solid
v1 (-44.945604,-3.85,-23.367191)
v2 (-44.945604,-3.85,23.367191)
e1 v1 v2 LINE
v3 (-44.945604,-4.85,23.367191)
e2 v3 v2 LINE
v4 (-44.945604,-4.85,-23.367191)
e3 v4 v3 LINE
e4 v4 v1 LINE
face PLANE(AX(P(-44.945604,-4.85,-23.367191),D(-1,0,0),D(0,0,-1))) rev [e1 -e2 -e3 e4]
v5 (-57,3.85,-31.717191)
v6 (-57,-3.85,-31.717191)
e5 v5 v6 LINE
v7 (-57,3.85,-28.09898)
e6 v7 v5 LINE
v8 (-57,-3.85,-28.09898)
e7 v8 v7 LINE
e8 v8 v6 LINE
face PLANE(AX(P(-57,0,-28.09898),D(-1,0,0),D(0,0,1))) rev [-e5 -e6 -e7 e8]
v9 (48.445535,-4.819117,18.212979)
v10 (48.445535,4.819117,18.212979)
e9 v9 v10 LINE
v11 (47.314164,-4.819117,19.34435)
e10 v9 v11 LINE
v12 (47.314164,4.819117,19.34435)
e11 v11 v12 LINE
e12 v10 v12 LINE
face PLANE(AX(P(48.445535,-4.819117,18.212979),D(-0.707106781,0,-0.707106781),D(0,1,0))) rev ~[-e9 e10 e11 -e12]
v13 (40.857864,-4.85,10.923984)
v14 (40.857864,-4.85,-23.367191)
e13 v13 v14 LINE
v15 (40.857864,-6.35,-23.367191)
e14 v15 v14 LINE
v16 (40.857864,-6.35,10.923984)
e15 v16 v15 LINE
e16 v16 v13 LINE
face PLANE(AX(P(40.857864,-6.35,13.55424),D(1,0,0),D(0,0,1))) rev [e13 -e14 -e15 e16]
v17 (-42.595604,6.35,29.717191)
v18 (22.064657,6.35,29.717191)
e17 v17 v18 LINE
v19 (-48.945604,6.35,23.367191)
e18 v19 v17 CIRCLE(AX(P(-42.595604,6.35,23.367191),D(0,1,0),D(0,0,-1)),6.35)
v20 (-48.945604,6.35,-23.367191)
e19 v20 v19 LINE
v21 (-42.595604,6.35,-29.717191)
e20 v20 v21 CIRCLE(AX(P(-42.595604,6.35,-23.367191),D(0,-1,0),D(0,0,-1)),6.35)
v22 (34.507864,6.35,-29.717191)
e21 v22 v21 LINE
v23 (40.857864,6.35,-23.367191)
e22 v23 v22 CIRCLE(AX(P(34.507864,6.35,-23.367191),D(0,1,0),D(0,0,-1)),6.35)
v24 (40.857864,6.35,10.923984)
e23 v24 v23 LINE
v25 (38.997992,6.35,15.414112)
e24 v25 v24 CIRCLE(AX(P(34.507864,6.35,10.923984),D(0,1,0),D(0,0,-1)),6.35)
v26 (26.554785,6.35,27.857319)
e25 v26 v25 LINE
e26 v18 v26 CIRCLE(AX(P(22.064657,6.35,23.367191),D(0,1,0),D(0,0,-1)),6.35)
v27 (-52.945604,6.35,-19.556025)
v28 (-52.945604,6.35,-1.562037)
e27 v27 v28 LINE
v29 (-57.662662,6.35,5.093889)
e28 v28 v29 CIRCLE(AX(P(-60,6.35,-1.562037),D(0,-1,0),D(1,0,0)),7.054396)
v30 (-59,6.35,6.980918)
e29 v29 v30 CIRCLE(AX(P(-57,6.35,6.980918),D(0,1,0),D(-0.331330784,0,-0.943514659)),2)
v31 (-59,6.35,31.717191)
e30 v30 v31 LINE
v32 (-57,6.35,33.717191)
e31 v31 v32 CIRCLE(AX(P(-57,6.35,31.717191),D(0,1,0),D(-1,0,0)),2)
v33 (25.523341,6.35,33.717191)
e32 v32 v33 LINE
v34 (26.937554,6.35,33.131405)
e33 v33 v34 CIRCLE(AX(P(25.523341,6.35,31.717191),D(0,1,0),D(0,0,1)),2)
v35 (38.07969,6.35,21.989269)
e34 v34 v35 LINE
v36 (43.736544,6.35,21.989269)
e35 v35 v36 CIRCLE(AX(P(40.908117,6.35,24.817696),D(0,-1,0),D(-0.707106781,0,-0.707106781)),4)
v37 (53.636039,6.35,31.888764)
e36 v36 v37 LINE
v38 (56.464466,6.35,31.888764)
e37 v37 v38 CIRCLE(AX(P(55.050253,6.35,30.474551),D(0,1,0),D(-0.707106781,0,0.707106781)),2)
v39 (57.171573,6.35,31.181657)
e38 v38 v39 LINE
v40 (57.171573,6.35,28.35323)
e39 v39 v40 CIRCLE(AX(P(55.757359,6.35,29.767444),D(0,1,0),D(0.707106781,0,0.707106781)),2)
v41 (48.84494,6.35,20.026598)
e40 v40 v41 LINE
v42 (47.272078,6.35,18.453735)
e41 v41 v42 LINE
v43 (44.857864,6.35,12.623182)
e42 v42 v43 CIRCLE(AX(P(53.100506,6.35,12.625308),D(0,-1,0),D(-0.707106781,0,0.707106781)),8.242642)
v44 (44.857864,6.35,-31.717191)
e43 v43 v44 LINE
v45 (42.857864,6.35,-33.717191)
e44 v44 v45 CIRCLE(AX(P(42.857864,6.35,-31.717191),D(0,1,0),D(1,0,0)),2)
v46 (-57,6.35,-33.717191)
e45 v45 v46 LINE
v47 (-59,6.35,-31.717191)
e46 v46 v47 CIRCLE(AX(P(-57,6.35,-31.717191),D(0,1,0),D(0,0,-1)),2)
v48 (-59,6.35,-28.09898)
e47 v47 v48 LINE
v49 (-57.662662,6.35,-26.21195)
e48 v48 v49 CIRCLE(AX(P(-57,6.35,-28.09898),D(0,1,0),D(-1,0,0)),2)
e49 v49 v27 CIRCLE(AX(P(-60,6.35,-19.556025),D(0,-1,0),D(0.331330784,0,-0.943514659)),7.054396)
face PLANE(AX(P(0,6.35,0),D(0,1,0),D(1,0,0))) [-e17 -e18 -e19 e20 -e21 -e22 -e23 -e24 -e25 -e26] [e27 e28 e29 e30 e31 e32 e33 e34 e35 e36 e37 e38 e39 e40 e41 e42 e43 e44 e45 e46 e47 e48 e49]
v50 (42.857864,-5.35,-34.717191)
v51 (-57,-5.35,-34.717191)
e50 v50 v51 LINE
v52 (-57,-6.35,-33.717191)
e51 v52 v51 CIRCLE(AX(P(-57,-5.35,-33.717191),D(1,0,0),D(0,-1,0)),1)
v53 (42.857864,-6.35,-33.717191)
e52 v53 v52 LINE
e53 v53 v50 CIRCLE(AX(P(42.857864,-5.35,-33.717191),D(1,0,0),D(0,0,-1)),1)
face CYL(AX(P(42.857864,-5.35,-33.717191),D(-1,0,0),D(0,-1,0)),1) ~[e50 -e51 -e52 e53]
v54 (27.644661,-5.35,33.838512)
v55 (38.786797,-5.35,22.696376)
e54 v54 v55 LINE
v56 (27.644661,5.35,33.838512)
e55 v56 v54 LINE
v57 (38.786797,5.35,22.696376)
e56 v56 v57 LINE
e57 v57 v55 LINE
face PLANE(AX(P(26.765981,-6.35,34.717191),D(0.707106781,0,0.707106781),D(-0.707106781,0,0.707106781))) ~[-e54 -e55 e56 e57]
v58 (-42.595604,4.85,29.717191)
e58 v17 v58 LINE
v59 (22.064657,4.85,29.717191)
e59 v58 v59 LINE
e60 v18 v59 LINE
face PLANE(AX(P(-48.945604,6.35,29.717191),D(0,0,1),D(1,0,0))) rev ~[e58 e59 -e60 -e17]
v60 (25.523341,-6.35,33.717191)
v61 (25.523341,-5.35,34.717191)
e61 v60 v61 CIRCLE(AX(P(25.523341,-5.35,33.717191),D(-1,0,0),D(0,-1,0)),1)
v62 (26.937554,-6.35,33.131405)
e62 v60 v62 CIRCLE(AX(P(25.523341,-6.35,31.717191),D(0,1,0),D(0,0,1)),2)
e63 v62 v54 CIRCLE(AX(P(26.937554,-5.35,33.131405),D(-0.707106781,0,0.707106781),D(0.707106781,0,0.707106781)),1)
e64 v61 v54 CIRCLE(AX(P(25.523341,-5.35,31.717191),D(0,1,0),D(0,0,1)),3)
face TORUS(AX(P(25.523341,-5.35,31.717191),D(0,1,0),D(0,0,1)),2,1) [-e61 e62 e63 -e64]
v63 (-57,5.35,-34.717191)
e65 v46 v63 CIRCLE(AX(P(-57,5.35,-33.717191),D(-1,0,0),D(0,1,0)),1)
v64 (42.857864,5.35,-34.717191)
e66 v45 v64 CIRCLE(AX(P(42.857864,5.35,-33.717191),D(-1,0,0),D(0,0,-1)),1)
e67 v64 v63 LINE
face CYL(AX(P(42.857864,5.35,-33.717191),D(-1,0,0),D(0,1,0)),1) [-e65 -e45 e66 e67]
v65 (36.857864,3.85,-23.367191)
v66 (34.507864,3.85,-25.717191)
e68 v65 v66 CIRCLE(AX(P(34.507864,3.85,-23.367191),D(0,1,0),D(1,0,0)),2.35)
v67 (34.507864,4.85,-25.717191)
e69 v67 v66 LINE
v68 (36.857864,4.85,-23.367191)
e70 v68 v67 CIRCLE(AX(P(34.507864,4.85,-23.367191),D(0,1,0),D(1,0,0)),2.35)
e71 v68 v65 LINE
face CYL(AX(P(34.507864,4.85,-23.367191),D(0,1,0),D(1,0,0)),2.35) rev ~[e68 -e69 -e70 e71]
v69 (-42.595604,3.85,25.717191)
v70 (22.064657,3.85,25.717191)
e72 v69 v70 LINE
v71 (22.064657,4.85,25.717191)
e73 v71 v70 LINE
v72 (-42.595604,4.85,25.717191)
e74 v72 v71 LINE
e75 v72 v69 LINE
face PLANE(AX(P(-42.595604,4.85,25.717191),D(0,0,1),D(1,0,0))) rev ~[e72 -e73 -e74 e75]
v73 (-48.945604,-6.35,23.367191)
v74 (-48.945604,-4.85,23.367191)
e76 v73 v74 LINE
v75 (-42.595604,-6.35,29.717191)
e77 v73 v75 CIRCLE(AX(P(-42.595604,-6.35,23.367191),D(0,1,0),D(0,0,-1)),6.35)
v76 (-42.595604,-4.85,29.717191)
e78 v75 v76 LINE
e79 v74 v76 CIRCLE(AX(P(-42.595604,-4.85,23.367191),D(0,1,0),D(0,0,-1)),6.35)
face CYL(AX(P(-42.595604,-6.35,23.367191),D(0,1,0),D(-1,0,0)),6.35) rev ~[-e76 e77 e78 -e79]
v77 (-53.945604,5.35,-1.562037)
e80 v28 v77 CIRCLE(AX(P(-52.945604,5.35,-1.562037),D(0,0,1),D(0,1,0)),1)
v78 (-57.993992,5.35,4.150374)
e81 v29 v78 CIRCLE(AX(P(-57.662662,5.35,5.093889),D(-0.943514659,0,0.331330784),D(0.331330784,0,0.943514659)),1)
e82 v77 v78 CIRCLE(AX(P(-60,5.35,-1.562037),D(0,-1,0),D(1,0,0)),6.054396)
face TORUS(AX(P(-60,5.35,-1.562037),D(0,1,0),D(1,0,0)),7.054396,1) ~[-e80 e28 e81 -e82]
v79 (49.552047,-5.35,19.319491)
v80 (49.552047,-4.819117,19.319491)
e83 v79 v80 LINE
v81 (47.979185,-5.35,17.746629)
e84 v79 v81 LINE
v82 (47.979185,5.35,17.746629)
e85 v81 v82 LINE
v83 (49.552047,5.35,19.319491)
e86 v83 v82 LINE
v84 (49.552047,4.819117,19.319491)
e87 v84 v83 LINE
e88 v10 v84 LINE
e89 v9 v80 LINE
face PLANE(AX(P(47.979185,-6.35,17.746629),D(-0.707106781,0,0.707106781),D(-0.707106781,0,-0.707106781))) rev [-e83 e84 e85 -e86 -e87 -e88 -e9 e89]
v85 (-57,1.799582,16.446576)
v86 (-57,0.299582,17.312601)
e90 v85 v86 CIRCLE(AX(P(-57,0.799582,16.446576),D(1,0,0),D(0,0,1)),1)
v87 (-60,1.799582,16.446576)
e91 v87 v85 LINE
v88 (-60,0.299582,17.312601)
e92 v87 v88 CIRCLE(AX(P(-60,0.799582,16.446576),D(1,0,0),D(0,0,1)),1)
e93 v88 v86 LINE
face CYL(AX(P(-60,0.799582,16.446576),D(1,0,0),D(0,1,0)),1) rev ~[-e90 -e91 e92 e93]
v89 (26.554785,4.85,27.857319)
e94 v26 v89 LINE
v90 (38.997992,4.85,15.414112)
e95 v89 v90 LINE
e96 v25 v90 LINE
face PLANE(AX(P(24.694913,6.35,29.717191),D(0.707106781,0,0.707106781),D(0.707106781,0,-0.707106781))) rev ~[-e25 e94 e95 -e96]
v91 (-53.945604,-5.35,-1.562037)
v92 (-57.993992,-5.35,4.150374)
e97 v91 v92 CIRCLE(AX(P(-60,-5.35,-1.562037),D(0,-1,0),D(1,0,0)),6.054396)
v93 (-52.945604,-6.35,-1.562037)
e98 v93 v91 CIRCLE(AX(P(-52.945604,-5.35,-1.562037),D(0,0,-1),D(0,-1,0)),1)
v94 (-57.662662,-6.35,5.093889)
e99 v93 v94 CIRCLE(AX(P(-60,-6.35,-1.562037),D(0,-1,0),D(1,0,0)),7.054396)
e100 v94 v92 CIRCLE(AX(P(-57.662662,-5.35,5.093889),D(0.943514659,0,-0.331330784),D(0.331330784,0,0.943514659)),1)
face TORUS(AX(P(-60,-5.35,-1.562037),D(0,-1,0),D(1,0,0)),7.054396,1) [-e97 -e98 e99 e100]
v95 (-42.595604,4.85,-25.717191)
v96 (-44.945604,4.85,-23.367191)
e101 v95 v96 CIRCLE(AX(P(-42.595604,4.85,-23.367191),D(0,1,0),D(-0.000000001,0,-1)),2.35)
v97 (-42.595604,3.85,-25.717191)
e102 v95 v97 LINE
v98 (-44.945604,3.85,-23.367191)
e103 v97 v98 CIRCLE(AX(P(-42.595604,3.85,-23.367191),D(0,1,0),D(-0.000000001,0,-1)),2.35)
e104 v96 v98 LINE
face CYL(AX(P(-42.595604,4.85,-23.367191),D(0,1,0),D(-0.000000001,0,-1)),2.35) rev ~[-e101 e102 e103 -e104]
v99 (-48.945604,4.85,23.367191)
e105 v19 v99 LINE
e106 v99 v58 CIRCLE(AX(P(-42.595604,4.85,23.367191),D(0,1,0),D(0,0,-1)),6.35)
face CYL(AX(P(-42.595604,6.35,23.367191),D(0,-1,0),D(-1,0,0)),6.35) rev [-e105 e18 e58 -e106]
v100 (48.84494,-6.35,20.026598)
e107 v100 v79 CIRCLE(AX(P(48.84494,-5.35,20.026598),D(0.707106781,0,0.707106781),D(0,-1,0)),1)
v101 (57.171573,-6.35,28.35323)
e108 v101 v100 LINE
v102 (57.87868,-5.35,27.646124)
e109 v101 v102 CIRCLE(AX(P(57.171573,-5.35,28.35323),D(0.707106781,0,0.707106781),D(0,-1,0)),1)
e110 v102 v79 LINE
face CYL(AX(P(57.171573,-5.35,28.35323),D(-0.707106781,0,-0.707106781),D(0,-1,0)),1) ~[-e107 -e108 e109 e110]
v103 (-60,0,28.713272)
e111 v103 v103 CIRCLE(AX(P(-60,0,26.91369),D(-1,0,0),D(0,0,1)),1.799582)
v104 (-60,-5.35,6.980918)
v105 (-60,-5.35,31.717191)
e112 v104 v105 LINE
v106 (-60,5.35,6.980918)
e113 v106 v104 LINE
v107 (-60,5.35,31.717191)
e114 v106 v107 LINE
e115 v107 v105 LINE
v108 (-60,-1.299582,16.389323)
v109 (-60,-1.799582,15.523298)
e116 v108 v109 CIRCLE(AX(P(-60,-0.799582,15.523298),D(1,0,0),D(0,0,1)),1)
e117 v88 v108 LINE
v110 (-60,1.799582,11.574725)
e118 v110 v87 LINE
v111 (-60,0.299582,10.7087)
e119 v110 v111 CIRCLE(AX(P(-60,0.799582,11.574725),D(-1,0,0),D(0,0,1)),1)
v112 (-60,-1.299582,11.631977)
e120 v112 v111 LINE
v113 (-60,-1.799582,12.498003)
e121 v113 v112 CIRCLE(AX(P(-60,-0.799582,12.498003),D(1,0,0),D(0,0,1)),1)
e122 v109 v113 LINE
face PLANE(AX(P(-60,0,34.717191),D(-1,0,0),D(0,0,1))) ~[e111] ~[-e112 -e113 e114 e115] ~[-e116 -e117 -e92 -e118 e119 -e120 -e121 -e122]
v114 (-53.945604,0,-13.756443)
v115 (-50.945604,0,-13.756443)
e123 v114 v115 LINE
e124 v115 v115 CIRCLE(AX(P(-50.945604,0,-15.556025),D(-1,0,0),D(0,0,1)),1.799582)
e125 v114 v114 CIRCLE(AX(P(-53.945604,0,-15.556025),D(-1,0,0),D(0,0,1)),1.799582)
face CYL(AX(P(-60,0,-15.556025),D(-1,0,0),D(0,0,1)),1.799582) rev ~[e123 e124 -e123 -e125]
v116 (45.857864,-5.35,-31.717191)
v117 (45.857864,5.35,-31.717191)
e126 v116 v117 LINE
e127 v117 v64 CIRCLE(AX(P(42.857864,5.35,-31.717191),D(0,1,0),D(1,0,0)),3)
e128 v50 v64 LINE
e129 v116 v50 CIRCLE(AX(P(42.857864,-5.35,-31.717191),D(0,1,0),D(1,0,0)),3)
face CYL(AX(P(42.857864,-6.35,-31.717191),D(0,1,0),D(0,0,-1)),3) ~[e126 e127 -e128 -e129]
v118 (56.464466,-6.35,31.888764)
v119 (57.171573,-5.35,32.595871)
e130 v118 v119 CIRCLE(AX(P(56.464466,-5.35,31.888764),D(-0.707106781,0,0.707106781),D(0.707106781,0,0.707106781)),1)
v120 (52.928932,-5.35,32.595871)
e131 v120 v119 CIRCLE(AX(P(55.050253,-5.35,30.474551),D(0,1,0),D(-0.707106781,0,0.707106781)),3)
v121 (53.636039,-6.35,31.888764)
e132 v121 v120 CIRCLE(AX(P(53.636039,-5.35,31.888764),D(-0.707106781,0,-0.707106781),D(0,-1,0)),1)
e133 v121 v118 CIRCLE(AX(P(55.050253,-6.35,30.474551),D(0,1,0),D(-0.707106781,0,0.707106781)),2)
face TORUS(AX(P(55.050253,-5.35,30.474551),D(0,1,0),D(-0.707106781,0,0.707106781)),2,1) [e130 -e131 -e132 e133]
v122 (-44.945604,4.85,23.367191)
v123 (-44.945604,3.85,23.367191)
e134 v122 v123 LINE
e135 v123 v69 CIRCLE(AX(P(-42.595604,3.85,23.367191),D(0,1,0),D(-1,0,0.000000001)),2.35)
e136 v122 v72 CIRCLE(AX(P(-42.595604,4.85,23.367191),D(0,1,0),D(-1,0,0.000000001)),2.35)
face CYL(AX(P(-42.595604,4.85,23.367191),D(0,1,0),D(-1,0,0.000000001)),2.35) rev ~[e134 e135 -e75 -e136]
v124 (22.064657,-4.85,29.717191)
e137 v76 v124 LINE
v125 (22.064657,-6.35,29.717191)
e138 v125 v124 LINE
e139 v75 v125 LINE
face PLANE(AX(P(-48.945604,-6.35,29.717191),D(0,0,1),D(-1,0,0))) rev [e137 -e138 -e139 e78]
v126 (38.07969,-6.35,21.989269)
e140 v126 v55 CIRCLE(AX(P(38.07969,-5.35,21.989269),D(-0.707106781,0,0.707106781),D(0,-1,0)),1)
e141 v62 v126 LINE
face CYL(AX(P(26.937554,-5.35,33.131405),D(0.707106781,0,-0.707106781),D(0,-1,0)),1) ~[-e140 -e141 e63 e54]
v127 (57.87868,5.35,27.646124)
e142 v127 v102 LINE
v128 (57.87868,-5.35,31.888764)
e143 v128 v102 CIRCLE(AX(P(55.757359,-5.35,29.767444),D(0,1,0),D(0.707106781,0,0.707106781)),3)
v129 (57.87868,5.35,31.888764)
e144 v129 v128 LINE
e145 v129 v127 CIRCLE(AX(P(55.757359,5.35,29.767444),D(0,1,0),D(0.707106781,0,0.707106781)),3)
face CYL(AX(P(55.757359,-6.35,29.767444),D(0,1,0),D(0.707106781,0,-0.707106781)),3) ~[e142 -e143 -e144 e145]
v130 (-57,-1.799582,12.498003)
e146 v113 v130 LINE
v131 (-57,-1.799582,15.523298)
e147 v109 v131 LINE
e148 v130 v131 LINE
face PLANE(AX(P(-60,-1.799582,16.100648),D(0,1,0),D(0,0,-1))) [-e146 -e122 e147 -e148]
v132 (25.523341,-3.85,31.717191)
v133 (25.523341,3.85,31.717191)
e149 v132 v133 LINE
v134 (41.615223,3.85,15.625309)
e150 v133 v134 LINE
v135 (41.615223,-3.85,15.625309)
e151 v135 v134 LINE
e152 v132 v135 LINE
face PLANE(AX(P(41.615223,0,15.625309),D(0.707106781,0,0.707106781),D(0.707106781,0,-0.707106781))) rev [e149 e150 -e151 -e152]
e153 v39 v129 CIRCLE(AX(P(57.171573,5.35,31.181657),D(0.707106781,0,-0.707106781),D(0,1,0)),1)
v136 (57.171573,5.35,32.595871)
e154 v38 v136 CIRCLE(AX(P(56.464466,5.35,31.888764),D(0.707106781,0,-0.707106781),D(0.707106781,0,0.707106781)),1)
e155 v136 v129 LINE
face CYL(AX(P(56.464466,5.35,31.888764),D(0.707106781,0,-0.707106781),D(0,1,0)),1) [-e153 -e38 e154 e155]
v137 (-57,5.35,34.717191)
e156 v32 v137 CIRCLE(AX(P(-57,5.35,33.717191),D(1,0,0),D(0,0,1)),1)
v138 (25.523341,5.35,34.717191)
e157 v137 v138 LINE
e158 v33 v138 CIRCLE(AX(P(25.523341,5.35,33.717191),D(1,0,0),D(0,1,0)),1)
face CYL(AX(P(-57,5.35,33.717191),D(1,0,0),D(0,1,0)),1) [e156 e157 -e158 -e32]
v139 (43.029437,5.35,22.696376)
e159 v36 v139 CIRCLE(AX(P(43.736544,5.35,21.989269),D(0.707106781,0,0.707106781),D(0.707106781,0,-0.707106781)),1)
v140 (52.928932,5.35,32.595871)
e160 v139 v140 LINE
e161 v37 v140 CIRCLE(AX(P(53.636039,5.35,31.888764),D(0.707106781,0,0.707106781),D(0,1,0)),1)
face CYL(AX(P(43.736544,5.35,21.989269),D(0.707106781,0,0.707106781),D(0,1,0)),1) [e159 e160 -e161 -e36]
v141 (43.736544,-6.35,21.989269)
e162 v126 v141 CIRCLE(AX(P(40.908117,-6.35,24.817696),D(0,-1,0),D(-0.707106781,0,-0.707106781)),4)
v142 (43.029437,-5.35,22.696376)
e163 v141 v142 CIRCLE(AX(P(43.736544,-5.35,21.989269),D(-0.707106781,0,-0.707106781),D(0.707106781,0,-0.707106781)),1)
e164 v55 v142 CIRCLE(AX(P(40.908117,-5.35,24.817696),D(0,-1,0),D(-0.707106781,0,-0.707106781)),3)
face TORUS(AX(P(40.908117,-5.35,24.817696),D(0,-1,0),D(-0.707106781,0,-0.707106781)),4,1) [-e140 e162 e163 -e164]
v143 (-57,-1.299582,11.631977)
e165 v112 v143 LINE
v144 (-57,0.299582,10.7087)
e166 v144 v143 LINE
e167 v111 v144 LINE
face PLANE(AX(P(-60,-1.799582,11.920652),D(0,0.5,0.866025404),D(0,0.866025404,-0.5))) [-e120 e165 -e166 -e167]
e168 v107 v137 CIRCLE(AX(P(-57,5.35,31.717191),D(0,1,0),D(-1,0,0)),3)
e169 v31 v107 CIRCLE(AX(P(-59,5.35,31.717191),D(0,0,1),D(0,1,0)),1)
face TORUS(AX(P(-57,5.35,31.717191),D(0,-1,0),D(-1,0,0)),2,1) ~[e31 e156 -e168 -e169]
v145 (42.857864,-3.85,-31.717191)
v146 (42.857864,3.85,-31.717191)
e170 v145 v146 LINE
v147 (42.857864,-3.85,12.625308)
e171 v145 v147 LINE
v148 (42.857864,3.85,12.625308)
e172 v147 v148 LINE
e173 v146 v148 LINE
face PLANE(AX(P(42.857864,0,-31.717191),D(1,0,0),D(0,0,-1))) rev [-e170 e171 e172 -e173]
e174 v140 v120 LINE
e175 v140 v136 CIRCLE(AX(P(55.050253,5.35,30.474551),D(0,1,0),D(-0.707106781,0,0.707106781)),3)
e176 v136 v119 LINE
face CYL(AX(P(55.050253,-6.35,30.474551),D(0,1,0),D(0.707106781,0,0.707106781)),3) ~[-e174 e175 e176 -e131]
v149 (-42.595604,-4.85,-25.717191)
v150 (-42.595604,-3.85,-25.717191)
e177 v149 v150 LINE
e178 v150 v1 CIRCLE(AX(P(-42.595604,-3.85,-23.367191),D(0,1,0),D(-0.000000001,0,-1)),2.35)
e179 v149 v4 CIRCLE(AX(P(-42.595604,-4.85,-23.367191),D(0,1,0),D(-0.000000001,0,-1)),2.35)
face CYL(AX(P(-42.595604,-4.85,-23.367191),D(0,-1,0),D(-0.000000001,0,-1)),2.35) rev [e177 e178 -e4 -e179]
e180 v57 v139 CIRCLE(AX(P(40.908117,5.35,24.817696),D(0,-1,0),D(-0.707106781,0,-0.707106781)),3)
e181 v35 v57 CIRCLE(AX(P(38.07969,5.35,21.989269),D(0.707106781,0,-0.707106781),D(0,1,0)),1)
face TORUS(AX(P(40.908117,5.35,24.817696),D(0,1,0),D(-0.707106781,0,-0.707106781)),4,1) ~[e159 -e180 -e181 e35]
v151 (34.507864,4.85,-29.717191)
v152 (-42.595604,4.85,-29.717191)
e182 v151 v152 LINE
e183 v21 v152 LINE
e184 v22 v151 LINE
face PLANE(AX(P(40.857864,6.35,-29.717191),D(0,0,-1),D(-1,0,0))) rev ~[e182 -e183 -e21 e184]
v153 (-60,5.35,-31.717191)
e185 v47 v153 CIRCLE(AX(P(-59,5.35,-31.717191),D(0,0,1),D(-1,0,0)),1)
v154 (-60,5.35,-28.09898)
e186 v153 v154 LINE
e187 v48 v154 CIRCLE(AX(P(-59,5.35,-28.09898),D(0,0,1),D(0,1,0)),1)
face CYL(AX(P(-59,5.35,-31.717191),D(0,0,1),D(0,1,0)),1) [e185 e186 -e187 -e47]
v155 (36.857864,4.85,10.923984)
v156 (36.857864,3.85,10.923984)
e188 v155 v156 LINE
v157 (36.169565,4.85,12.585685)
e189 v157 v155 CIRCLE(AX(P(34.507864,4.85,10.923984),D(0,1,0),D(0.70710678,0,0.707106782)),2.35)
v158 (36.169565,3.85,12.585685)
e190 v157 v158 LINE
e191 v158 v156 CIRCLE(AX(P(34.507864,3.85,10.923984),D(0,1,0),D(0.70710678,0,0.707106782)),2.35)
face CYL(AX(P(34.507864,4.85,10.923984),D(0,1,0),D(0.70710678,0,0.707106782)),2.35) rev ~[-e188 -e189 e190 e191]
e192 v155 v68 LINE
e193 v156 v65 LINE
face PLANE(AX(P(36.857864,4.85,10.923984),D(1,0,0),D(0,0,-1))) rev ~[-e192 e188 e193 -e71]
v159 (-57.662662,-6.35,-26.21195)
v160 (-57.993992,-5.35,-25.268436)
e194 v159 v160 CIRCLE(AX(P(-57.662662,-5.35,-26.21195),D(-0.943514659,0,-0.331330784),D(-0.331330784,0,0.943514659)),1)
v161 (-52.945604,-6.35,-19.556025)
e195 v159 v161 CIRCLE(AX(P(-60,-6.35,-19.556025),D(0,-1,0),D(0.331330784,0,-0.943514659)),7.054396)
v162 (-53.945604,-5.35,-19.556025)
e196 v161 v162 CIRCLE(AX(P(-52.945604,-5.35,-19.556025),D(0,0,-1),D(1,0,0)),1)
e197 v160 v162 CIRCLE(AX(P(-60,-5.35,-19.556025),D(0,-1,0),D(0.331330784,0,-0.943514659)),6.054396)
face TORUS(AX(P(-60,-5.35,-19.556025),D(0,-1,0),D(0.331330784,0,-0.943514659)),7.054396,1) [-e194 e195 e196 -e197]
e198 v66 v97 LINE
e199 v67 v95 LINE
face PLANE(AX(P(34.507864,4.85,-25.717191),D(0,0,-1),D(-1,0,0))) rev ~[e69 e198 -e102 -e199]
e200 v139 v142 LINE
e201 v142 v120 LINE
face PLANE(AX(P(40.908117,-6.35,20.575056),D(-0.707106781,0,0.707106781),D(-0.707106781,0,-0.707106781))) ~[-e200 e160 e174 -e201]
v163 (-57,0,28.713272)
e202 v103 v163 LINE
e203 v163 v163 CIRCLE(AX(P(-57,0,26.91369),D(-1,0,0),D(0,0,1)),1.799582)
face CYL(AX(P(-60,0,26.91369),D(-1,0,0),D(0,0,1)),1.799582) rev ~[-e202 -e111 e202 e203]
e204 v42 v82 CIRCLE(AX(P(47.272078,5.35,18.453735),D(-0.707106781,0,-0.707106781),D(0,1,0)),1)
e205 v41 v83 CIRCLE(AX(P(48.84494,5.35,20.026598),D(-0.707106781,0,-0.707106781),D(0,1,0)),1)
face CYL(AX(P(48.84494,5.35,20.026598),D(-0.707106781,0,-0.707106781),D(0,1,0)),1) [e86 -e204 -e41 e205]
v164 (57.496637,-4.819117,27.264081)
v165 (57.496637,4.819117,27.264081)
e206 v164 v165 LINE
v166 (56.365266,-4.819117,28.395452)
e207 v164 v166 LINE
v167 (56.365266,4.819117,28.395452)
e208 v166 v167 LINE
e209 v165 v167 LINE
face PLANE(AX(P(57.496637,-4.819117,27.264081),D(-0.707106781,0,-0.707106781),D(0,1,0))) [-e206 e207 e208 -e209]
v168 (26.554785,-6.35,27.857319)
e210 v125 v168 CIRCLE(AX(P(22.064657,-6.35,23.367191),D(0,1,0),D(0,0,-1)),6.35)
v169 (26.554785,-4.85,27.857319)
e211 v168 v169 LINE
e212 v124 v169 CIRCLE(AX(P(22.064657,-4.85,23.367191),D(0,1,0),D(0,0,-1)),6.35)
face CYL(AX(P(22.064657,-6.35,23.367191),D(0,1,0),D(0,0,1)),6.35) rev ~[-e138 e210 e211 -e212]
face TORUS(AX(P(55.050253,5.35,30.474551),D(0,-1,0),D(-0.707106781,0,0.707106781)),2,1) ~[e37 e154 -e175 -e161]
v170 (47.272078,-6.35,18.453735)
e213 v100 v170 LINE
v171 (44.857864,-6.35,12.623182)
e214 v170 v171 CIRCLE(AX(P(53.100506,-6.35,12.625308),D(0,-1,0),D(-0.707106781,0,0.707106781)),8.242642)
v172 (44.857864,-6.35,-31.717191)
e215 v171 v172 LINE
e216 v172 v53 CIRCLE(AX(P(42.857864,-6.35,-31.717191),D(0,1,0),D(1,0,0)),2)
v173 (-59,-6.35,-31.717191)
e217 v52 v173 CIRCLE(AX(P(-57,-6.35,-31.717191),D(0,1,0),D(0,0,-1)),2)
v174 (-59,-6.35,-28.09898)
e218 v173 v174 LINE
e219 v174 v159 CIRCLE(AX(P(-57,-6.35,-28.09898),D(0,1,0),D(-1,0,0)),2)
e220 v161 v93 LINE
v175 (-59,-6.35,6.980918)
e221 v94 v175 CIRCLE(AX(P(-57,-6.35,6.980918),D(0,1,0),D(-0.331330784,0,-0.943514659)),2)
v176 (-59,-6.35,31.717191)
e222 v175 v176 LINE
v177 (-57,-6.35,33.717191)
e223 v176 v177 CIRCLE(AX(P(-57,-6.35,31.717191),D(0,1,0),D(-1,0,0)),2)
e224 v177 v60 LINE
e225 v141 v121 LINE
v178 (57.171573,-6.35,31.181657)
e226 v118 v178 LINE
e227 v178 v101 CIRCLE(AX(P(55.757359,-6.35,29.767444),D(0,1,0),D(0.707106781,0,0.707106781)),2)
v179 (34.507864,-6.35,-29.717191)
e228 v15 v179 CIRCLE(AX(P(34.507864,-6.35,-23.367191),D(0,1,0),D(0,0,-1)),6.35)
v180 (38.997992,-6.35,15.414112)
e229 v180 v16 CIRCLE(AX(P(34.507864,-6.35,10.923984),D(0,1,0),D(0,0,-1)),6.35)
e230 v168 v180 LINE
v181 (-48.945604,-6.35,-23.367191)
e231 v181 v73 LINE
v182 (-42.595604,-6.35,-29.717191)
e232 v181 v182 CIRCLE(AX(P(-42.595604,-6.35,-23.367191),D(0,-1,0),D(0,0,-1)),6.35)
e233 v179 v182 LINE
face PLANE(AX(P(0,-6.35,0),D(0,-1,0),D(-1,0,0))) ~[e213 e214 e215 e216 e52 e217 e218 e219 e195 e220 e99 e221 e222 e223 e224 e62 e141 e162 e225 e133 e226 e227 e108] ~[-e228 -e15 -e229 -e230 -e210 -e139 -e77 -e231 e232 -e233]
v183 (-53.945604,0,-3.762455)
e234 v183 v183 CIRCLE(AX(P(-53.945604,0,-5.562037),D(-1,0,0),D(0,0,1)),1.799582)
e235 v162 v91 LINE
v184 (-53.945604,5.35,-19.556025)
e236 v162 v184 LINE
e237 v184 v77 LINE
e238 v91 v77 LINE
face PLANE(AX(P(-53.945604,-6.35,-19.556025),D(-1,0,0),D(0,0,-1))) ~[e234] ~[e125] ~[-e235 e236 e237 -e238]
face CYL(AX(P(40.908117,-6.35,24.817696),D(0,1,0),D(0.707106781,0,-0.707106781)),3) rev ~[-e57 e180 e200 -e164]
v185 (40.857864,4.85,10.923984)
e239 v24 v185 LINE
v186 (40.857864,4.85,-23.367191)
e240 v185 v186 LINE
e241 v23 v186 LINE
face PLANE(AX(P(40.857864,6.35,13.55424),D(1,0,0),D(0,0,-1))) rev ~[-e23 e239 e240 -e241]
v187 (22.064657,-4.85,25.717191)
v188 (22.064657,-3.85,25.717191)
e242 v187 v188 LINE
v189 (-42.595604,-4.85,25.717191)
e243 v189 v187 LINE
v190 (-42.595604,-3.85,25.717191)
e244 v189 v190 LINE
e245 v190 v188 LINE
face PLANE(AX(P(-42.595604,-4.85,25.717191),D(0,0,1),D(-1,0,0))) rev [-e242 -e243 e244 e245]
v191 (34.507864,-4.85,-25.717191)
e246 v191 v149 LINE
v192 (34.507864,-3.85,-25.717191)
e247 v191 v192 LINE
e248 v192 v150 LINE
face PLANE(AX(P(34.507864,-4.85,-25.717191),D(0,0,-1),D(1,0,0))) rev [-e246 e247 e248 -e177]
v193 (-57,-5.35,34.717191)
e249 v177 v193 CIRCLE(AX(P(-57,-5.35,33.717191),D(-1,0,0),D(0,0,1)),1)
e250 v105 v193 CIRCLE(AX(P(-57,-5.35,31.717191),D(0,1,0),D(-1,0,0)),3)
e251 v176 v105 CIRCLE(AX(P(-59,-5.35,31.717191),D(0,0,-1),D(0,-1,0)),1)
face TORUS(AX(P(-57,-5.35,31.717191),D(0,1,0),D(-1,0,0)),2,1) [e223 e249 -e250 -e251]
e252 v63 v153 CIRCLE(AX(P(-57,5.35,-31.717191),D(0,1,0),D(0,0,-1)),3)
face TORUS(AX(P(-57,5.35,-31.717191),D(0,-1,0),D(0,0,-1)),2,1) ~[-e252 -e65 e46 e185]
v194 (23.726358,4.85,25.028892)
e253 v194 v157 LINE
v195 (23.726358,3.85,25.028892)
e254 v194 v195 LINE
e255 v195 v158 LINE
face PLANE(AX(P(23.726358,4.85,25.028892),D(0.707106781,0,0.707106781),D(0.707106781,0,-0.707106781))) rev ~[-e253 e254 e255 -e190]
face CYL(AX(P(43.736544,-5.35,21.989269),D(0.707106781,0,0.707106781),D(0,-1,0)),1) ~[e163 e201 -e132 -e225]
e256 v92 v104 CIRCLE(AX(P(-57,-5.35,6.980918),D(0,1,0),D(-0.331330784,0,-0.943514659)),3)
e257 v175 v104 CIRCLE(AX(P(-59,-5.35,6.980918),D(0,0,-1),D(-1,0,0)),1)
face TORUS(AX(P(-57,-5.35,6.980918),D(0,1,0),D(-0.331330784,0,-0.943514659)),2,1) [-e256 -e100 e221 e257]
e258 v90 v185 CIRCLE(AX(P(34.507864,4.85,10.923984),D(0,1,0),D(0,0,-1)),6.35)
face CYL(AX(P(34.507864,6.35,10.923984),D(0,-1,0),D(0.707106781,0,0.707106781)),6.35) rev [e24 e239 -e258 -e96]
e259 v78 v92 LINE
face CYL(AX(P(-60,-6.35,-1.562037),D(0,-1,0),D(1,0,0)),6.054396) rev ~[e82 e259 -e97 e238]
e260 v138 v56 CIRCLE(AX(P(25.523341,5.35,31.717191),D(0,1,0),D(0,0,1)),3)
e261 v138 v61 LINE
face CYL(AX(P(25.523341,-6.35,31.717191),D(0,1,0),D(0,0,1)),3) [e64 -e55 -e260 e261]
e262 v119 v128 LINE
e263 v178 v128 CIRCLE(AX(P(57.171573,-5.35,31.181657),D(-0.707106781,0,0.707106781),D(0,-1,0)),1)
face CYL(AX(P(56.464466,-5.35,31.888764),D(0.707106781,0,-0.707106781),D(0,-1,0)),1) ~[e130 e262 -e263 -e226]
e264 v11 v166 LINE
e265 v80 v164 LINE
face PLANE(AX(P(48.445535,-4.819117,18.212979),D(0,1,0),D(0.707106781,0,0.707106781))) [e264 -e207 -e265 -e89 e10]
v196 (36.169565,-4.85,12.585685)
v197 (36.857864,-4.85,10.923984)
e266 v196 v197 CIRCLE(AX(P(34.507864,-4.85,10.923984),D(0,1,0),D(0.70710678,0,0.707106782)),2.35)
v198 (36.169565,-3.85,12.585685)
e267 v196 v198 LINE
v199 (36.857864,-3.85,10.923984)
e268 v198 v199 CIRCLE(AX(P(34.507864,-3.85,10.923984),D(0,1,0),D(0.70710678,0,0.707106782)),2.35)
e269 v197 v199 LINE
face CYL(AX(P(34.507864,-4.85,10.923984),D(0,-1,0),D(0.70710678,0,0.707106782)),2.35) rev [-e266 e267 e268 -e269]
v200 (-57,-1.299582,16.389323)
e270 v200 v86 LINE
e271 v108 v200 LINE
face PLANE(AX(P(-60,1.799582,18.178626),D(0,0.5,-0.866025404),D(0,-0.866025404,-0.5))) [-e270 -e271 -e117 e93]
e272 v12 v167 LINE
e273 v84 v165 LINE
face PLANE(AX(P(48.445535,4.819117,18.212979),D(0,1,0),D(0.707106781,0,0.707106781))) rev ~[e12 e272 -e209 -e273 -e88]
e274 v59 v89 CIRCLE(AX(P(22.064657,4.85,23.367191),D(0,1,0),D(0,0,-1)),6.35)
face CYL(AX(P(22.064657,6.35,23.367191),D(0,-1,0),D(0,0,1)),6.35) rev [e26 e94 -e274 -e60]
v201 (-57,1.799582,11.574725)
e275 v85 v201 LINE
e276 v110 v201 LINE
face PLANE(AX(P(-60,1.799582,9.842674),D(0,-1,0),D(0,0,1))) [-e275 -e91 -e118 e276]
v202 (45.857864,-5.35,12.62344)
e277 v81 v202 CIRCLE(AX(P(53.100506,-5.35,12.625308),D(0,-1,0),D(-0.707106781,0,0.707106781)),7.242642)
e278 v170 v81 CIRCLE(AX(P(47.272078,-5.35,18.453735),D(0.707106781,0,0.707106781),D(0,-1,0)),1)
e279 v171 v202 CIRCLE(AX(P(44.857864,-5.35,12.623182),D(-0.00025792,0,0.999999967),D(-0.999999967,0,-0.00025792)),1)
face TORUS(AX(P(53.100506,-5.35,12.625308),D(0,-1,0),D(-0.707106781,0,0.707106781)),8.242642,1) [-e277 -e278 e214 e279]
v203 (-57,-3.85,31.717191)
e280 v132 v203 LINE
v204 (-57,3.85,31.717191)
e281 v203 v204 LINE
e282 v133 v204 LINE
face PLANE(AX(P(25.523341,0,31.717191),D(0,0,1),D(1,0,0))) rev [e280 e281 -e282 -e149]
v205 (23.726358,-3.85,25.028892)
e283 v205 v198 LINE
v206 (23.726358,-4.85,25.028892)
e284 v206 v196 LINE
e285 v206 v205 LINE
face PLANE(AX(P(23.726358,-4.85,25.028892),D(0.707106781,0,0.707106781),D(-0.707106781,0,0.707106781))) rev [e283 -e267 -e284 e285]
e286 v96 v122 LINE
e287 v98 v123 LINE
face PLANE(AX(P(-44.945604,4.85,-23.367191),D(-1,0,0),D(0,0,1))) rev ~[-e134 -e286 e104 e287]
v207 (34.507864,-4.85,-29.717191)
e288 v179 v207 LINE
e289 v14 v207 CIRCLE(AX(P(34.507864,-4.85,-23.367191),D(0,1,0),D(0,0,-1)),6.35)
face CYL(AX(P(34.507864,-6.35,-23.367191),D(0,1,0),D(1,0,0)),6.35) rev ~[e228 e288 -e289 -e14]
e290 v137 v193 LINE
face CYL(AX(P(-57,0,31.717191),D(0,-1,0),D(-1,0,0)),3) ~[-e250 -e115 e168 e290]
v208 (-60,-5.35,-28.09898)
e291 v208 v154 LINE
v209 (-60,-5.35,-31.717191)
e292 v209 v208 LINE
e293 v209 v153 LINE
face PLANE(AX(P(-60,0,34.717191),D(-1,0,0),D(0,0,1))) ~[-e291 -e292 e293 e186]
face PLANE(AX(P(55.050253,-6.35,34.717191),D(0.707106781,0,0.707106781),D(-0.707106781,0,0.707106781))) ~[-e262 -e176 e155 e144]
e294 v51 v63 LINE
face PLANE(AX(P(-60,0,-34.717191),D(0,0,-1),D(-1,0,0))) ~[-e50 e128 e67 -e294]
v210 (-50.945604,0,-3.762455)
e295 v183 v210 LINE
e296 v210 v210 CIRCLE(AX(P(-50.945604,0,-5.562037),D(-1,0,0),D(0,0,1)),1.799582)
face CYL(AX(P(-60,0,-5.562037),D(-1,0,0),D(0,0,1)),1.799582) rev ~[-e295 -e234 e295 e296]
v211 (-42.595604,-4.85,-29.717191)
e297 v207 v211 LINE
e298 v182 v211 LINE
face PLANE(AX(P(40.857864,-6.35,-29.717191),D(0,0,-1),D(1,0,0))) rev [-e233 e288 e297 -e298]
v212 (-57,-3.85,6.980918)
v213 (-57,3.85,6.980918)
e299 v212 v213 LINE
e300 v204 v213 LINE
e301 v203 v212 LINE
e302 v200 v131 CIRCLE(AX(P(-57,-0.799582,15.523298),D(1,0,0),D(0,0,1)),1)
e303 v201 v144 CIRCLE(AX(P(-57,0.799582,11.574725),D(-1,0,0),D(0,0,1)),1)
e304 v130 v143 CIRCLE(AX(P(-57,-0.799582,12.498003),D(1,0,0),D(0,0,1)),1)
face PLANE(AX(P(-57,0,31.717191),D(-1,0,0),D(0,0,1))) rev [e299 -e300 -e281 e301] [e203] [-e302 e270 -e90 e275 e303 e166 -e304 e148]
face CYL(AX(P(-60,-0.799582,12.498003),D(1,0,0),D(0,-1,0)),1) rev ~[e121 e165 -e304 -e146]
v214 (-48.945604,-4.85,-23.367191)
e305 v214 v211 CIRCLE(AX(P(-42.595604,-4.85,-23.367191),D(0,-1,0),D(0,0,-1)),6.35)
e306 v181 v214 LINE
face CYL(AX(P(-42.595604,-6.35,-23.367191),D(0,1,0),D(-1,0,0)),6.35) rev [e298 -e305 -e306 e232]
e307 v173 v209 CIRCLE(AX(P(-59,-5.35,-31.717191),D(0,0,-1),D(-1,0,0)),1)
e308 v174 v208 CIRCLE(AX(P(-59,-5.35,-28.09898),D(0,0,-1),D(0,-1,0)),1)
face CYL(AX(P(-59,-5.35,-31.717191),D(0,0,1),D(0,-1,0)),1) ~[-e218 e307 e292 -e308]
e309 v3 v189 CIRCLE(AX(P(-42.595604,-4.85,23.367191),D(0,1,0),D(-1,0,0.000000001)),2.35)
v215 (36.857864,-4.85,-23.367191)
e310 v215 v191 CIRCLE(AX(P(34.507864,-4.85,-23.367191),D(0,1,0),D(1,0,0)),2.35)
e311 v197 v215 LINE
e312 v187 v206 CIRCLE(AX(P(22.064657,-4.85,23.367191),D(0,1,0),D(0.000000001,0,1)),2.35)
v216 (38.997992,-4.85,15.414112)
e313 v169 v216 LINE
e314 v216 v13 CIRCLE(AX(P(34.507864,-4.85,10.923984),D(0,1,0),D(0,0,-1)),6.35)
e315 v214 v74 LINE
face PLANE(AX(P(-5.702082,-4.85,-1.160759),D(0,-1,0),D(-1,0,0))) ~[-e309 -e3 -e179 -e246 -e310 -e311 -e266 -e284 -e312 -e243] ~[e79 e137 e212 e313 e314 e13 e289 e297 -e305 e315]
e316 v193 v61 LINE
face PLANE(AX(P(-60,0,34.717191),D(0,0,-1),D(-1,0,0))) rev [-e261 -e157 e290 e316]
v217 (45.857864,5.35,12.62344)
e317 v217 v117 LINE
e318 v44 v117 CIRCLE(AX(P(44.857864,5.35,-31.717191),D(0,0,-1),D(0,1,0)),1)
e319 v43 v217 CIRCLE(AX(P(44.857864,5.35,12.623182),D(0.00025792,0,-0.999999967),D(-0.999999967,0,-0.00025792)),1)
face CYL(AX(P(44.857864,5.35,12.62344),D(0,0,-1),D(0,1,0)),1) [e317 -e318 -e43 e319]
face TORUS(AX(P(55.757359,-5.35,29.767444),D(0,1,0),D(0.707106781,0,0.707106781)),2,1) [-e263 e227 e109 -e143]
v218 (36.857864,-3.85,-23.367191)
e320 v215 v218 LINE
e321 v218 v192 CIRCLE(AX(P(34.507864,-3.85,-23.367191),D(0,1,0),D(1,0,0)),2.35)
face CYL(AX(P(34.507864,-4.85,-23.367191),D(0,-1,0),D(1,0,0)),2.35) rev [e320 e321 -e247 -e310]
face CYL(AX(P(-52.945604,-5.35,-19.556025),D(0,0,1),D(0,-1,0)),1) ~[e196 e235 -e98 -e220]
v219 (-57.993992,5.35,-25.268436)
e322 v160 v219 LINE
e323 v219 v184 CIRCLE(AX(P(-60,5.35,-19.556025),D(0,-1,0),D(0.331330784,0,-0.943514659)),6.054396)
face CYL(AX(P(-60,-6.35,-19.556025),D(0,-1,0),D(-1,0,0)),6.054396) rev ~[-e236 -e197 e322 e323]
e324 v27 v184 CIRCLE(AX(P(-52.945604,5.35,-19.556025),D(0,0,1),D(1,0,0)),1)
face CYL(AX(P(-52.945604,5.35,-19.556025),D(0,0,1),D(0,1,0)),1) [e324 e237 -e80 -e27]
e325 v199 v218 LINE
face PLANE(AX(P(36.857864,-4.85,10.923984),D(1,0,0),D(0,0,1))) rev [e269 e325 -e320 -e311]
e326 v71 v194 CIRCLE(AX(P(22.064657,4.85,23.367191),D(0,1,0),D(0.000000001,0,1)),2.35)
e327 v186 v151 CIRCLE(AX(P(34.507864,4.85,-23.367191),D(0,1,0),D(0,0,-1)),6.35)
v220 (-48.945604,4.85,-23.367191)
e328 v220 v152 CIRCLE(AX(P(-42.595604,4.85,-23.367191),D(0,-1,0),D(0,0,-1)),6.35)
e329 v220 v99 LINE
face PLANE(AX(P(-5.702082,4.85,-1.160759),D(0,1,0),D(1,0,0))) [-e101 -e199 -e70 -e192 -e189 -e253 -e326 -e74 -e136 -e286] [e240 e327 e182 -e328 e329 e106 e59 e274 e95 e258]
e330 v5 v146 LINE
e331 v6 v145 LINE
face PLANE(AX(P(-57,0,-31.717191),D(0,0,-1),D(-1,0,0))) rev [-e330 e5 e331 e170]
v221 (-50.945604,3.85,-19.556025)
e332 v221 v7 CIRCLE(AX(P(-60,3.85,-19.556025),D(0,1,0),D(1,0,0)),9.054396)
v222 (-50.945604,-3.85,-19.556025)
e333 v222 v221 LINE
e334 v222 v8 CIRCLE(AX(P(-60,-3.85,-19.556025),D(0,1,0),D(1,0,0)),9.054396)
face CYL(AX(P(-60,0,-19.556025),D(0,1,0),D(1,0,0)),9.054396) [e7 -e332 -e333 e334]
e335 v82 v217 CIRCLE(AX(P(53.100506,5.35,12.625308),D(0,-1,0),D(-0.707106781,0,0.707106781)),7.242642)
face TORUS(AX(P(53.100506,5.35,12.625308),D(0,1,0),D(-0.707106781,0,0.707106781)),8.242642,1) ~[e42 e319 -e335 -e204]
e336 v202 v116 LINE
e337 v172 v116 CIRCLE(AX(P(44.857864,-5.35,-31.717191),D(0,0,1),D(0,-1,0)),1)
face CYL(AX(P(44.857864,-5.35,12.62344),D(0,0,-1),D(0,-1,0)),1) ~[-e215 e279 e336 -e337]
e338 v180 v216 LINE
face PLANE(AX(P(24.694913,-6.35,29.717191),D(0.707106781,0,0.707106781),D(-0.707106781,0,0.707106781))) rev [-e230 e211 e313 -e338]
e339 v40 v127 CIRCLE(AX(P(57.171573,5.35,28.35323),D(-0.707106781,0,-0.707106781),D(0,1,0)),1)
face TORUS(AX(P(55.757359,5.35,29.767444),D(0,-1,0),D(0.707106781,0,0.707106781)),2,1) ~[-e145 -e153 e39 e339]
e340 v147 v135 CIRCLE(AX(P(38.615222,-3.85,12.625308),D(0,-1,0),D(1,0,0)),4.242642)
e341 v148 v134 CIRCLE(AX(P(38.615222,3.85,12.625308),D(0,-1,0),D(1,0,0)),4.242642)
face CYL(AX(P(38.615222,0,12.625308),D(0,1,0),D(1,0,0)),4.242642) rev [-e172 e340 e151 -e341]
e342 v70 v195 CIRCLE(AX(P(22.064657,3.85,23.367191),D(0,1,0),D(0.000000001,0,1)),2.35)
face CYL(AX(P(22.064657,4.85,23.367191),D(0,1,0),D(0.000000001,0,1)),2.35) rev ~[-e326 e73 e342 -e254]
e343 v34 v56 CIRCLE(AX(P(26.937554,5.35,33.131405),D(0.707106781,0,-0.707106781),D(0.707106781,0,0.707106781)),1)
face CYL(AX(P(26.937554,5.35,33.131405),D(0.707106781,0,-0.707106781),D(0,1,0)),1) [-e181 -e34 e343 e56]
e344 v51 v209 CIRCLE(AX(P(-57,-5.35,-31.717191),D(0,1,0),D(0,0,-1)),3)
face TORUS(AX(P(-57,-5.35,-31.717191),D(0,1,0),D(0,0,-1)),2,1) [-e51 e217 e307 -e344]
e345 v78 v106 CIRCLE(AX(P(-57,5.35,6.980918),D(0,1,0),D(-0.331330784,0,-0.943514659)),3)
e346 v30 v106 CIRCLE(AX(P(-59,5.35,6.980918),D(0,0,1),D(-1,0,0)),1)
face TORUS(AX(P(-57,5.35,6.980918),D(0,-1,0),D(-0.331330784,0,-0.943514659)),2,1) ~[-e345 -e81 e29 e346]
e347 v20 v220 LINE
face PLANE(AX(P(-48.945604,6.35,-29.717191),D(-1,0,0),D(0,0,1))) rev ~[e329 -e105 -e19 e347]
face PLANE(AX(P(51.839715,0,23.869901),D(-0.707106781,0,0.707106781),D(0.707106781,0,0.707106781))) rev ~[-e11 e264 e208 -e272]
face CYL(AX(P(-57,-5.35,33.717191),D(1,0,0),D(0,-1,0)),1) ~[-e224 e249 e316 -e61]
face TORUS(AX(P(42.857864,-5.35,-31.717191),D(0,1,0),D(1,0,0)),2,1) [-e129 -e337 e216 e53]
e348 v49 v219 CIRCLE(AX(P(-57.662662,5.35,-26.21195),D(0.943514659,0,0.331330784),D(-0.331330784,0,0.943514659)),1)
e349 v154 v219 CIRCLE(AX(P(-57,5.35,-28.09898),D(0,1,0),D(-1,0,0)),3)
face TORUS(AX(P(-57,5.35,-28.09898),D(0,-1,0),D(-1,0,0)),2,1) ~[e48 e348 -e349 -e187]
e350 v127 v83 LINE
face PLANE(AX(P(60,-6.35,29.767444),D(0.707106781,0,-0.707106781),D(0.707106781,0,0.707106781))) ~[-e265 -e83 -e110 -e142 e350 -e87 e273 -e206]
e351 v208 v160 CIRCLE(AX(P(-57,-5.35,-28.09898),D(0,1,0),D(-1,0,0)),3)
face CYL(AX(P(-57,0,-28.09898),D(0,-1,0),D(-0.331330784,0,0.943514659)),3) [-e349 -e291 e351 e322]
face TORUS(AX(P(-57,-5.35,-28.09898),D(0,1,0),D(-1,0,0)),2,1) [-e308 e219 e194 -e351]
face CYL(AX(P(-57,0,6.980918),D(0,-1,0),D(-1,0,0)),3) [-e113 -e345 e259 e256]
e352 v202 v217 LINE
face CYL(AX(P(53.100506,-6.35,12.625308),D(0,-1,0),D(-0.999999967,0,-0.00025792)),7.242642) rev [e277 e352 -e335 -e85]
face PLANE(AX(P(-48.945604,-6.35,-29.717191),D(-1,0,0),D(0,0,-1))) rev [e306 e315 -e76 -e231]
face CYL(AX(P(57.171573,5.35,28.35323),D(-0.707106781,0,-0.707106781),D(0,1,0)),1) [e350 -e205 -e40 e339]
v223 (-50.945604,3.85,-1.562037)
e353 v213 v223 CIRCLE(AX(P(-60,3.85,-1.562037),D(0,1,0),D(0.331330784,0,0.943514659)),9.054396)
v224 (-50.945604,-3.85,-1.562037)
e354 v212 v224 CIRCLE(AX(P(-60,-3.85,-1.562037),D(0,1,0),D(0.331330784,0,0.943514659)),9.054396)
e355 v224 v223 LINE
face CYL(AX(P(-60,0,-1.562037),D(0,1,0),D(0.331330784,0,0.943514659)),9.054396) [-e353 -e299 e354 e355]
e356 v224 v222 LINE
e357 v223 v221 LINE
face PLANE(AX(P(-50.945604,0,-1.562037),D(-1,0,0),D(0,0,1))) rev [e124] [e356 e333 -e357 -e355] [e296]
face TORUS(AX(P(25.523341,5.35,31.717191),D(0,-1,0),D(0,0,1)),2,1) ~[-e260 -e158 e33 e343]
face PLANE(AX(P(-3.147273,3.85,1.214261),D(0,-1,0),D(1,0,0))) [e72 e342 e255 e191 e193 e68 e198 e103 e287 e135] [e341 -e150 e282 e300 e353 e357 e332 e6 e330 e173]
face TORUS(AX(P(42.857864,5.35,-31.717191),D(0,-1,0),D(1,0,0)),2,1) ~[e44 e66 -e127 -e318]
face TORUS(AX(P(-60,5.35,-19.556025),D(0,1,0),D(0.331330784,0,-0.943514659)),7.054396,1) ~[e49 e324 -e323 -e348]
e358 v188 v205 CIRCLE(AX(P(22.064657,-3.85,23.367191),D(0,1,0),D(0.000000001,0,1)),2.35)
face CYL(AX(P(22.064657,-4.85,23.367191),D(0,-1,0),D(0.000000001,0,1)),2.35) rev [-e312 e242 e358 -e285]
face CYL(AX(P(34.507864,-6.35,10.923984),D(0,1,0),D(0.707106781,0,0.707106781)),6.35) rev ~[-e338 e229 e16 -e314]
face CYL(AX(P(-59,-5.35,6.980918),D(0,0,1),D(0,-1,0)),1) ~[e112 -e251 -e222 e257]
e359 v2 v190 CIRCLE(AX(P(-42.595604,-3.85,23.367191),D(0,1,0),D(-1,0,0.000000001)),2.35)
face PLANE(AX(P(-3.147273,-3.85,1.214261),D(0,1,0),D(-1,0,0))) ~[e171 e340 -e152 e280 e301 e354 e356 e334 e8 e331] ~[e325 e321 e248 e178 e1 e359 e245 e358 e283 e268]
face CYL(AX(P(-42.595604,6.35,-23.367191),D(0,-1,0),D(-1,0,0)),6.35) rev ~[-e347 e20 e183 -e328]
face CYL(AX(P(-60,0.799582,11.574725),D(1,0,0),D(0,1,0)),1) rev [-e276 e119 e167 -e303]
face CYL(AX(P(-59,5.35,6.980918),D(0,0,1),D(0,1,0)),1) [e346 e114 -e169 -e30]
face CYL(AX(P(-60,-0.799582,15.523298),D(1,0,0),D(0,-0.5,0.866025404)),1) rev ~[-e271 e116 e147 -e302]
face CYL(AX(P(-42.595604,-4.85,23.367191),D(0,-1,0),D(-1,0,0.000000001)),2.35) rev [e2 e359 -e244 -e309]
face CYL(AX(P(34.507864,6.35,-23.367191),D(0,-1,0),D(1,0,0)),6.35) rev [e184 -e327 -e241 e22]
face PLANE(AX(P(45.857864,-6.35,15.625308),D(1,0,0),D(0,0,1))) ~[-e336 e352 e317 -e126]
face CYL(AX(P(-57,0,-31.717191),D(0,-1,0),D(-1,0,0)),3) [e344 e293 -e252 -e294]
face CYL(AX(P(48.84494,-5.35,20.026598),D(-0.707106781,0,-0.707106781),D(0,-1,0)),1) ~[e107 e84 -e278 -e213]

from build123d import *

# Parameters (mm, degrees)
SKETCH1_W           = 120
SKETCH1_H           = 69.434382776
BOSS_EXTRUDE1_DEPTH = 6.35
CUT_EXTRUDE1_DEPTH  = 7.35
FILLET1_R           = 3
BOSS_EXTRUDE2_DEPTH = 6.35
CUT_EXTRUDE2_DEPTH  = 1.5
FILLET2_R           = 6.35
CUT_EXTRUDE3_REACH  = 6.85
CUT_EXTRUDE4_DEPTH  = 3.85
BOSS_EXTRUDE3_DEPTH = 3.85
FILLET4_R           = 1
SKETCH8_R           = 1.799581827
CUT_EXTRUDE5_DEPTH  = 21
FILLET5_R           = 1
CUT_EXTRUDE6_START  = -3.5
SKETCH9_W           = 12.800190858
SKETCH9_H           = 9.638233658
CUT_EXTRUDE6_DEPTH  = 1.6


with BuildPart() as part:
    # Sketch1 → Boss-Extrude1 (new body)
    with BuildSketch(Plane(origin=(0, 0, 0), x_dir=(1, 0, 0), z_dir=(0, 1, 0))):
        Rectangle(SKETCH1_W, SKETCH1_H)
    extrude(amount=BOSS_EXTRUDE1_DEPTH)

    # Sketch2 → Cut-Extrude1 (cut, through all)
    with BuildSketch(Plane(origin=(0, 6.35, 0), x_dir=(1, 0, 0), z_dir=(0, 1, 0))):
        with BuildLine():
            Line((-53.945604382, 19.556024572), (-53.945604382, 1.562036653))
            ThreePointArc((-53.945604382, 1.562036653), (-60, -4.492358965), (-66.054395618, 1.562036653))
            Line((-66.054395618, 1.562036653), (-66.054395618, 19.556024572))
            ThreePointArc((-66.054395618, 19.556024572), (-60, 25.61042019), (-53.945604382, 19.556024572))
        make_face()
        Polygon((26.765981284, -34.717191388), (40.908116908, -20.575055764), (55.050252532, -34.717191388), (60, -29.767443919), (45.857864376, -15.625308296), (45.857864376, 34.717191388), (85.563511745, 34.717191388), (85.563511745, -46.950332747), (26.765981284, -46.950332747), align=None)
    extrude(amount=-CUT_EXTRUDE1_DEPTH, mode=Mode.SUBTRACT)

    # Fillet1
    fillet1_edges = [part.edges().sort_by_distance(p)[0] for p in [
        (-60, 3.175, -25.61042019),
        (-60, 3.175, 4.492358965),
        (45.857864376, 3.175, -34.717191388),
        (26.765981284, 3.175, 34.717191388),
        (40.908116908, 3.175, 20.575055764),
        (55.050252532, 3.175, 34.717191388),
        (60, 3.175, 29.767443919),
        (-60, 3.175, -34.717191388),
        (-60, 3.175, 34.717191388),
    ]]
    fillet(fillet1_edges, radius=FILLET1_R)

    # Sketch3 → Boss-Extrude2 (add)
    with BuildSketch(Plane(origin=(0, 6.35, 0), x_dir=(1, 0, 0), z_dir=(0, 1, 0))):
        with BuildLine():
            Line((47.97918472, -17.746628639), (49.552046941, -19.31949086))
            Line((49.552046941, -19.31949086), (42.644119977, -16.529838006))
            Line((42.644119977, -16.529838006), (45.857864376, -12.623439694))
            ThreePointArc((45.857864376, -12.623439694), (46.408820018, -15.39608369), (47.97918472, -17.746628639))
        make_face()
    extrude(amount=-BOSS_EXTRUDE2_DEPTH)

    # Sketch4 → Cut-Extrude2 (cut)
    with BuildSketch(Plane(origin=(0, 6.35, 0), x_dir=(1, 0, 0), z_dir=(0, 1, 0))):
        Polygon((-48.945604382, 29.717191388), (-48.945604382, -29.717191388), (24.694913472, -29.717191388), (40.857864376, -13.554240484), (40.857864376, 29.717191388), align=None)
    extrude(amount=-CUT_EXTRUDE2_DEPTH, mode=Mode.SUBTRACT)

    # Fillet2
    fillet2_edges = [part.edges().sort_by_distance(p)[0] for p in [
        (-48.945604382, 5.6, -29.717191388),
        (40.857864376, 5.6, -29.717191388),
        (40.857864376, 5.6, 13.554240484),
        (24.694913472, 5.6, 29.717191388),
        (-48.945604382, 5.6, 29.717191388),
    ]]
    fillet(fillet2_edges, radius=FILLET2_R)

    # Sketch5 → Cut-Extrude3 (cut, up to next)
    with BuildSketch(Plane(origin=(0, 4.85, 0), x_dir=(1, 0, 0), z_dir=(0, 1, 0)), mode=Mode.PRIVATE) as cut_extrude3_sk1:
        with BuildLine():
            Line((-44.945604382, 23.367191388), (-44.945604382, -23.367191388))
            ThreePointArc((-44.945604382, -23.367191388), (-44.257305317, -25.028892323), (-42.595604382, -25.717191388))
            Line((-42.595604382, -25.717191388), (22.064657351, -25.717191388))
            ThreePointArc((22.064657351, -25.717191388), (22.963963417, -25.538308289), (23.726358287, -25.028892323))
            Line((23.726358287, -25.028892323), (36.169565312, -12.585685298))
            ThreePointArc((36.169565312, -12.585685298), (36.678981278, -11.823290429), (36.857864376, -10.923984363))
            Line((36.857864376, -10.923984363), (36.857864376, 23.367191388))
            ThreePointArc((36.857864376, 23.367191388), (36.169565312, 25.028892323), (34.507864376, 25.717191388))
            Line((34.507864376, 25.717191388), (-42.595604382, 25.717191388))
            ThreePointArc((-42.595604382, 25.717191388), (-44.257305317, 25.028892323), (-44.945604382, 23.367191388))
        make_face()
    cut_extrude3_tool1 = extrude(cut_extrude3_sk1.sketch, amount=-CUT_EXTRUDE3_REACH, mode=Mode.PRIVATE) & part.part
    add(cut_extrude3_tool1.solids().sort_by_distance((-4.877844, 4.85, -0.484519))[0], mode=Mode.SUBTRACT)

    # Sketch6 → Cut-Extrude4 (cut)
    with BuildSketch(Plane.XZ):
        with BuildLine():
            Line((42.857864376, -31.717191388), (42.857864376, 12.625307714))
            ThreePointArc((42.857864376, 12.625307714), (43.637538907, 16.544996877), (45.857864461, 19.867948897))
            Line((45.857864461, 19.867948897), (55.757359313, 29.767443919))
            Line((55.757359313, 29.767443919), (55.050252532, 30.4745507))
            Line((55.050252532, 30.4745507), (45.150757595, 20.575055764))
            ThreePointArc((45.150757595, 20.575055764), (40.908116908, 18.817696451), (36.665476221, 20.575055764))
            Line((36.665476221, 20.575055764), (25.523340597, 31.717191388))
            Line((25.523340597, 31.717191388), (-57, 31.717191388))
            Line((-57, 31.717191388), (-57, 6.98091834))
            ThreePointArc((-57, 6.98091834), (-52.612670751, 3.673366538), (-50.945604382, -1.562036653))
            Line((-50.945604382, -1.562036653), (-50.945604382, -19.556024572))
            ThreePointArc((-50.945604382, -19.556024572), (-52.612670751, -24.791427763), (-57, -28.098979565))
            Line((-57, -28.098979565), (-57, -31.717191388))
            Line((-57, -31.717191388), (42.857864376, -31.717191388))
        make_face()
    extrude(amount=-CUT_EXTRUDE4_DEPTH, mode=Mode.SUBTRACT)

    # Sketch7 → Boss-Extrude3 (add)
    with BuildSketch(Plane.XZ):
        with BuildLine():
            ThreePointArc((42.857864376, 12.625307714), (42.534912477, 14.248896552), (41.615223278, 15.625308707))
            Line((41.615223278, 15.625308707), (36.665476221, 20.575055764))
            ThreePointArc((36.665476221, 20.575055764), (40.908116908, 18.817696451), (45.150757595, 20.575055764))
            Line((45.150757595, 20.575055764), (55.050252532, 30.4745507))
            Line((55.050252532, 30.4745507), (55.757359313, 29.767443919))
            Line((55.757359313, 29.767443919), (45.857864461, 19.867948897))
            ThreePointArc((45.857864461, 19.867948897), (43.637538907, 16.544996877), (42.857864376, 12.625307714))
        make_face()
    extrude(amount=-BOSS_EXTRUDE3_DEPTH)

    # Fillet4
    fillet4_edges = [part.edges().sort_by_distance(p)[0] for p in [
        (52.928932188, 6.35, 22.696376107),
        (46.408820018, 6.35, 15.39608369),
        (-55.060320344, 6.35, -23.056777519),
        (-53.945604382, 6.35, -10.559030613),
        (-60, 6.35, 19.349054864),
        (-55.060320344, 6.35, 1.938716294),
        (-15.738329701, 6.35, 34.717191388),
        (33.215728753, 6.35, 28.267443919),
        (47.97918472, 6.35, 27.646123576),
        (57.525126266, 6.35, 32.242317653),
        (45.857864376, 6.35, -9.546875847),
        (-7.071067812, 6.35, -34.717191388),
        (-60, 6.35, -29.908085476),
        (-59.121320344, 6.35, -33.838511731),
        (-59.121320344, 6.35, 33.838511731),
        (26.671390894, 6.35, 34.488829985),
        (55.050252532, 6.35, 33.4745507),
        (58.757359313, 6.35, 29.767443919),
        (44.97918472, 6.35, -33.838511731),
        (-59.447649593, 6.35, -26.36432932),
        (-59.447649593, 6.35, 5.246268095),
        (40.908116908, 6.35, 21.817696451),
    ]]
    fillet(fillet4_edges, radius=FILLET4_R)

    # Mirror1: part across plane


with BuildPart() as part_1:
    add(part.part)
    add(part.part.mirror(Plane(origin=(0, 0, 0), x_dir=(0, 0, 1), z_dir=(0, -1, 0))))

    # Sketch8 → Cut-Extrude5 (cut)
    with BuildSketch(Plane.ZY.offset(60)):
        with Locations((-15.556024572, 0)):
            Circle(SKETCH8_R)
        with Locations((-5.562036653, 0)):
            Circle(SKETCH8_R)
        with Locations((26.913689905, 0)):
            Circle(SKETCH8_R)
        Polygon((9.842674222, 1.799581827), (18.178626353, 1.799581827), (16.100648249, -1.799581827), (11.920652326, -1.799581827), align=None)
    extrude(amount=-CUT_EXTRUDE5_DEPTH, mode=Mode.SUBTRACT)

    # Fillet5
    fillet5_edges = [part_1.edges().sort_by_distance(p)[0] for p in [
        (-58.5, -1.799581827, 11.920652326),
        (-58.5, 1.799581827, 9.842674222),
        (-58.5, 1.799581827, 18.178626353),
        (-58.5, -1.799581827, 16.100648249),
    ]]
    fillet(fillet5_edges, radius=FILLET5_R)

    # Sketch9 → Cut-Extrude6 (cut)
    with BuildSketch(Plane(origin=(12.641404306, 0, -12.641404306), x_dir=(0.707106781, 0, 0.707106781), z_dir=(-0.707106781, 0, 0.707106781)).offset(CUT_EXTRUDE6_START)):
        with Locations((53.534782746, 0)):
            Rectangle(SKETCH9_W, SKETCH9_H)
    extrude(amount=CUT_EXTRUDE6_DEPTH, mode=Mode.SUBTRACT)


solid = part_1.part
